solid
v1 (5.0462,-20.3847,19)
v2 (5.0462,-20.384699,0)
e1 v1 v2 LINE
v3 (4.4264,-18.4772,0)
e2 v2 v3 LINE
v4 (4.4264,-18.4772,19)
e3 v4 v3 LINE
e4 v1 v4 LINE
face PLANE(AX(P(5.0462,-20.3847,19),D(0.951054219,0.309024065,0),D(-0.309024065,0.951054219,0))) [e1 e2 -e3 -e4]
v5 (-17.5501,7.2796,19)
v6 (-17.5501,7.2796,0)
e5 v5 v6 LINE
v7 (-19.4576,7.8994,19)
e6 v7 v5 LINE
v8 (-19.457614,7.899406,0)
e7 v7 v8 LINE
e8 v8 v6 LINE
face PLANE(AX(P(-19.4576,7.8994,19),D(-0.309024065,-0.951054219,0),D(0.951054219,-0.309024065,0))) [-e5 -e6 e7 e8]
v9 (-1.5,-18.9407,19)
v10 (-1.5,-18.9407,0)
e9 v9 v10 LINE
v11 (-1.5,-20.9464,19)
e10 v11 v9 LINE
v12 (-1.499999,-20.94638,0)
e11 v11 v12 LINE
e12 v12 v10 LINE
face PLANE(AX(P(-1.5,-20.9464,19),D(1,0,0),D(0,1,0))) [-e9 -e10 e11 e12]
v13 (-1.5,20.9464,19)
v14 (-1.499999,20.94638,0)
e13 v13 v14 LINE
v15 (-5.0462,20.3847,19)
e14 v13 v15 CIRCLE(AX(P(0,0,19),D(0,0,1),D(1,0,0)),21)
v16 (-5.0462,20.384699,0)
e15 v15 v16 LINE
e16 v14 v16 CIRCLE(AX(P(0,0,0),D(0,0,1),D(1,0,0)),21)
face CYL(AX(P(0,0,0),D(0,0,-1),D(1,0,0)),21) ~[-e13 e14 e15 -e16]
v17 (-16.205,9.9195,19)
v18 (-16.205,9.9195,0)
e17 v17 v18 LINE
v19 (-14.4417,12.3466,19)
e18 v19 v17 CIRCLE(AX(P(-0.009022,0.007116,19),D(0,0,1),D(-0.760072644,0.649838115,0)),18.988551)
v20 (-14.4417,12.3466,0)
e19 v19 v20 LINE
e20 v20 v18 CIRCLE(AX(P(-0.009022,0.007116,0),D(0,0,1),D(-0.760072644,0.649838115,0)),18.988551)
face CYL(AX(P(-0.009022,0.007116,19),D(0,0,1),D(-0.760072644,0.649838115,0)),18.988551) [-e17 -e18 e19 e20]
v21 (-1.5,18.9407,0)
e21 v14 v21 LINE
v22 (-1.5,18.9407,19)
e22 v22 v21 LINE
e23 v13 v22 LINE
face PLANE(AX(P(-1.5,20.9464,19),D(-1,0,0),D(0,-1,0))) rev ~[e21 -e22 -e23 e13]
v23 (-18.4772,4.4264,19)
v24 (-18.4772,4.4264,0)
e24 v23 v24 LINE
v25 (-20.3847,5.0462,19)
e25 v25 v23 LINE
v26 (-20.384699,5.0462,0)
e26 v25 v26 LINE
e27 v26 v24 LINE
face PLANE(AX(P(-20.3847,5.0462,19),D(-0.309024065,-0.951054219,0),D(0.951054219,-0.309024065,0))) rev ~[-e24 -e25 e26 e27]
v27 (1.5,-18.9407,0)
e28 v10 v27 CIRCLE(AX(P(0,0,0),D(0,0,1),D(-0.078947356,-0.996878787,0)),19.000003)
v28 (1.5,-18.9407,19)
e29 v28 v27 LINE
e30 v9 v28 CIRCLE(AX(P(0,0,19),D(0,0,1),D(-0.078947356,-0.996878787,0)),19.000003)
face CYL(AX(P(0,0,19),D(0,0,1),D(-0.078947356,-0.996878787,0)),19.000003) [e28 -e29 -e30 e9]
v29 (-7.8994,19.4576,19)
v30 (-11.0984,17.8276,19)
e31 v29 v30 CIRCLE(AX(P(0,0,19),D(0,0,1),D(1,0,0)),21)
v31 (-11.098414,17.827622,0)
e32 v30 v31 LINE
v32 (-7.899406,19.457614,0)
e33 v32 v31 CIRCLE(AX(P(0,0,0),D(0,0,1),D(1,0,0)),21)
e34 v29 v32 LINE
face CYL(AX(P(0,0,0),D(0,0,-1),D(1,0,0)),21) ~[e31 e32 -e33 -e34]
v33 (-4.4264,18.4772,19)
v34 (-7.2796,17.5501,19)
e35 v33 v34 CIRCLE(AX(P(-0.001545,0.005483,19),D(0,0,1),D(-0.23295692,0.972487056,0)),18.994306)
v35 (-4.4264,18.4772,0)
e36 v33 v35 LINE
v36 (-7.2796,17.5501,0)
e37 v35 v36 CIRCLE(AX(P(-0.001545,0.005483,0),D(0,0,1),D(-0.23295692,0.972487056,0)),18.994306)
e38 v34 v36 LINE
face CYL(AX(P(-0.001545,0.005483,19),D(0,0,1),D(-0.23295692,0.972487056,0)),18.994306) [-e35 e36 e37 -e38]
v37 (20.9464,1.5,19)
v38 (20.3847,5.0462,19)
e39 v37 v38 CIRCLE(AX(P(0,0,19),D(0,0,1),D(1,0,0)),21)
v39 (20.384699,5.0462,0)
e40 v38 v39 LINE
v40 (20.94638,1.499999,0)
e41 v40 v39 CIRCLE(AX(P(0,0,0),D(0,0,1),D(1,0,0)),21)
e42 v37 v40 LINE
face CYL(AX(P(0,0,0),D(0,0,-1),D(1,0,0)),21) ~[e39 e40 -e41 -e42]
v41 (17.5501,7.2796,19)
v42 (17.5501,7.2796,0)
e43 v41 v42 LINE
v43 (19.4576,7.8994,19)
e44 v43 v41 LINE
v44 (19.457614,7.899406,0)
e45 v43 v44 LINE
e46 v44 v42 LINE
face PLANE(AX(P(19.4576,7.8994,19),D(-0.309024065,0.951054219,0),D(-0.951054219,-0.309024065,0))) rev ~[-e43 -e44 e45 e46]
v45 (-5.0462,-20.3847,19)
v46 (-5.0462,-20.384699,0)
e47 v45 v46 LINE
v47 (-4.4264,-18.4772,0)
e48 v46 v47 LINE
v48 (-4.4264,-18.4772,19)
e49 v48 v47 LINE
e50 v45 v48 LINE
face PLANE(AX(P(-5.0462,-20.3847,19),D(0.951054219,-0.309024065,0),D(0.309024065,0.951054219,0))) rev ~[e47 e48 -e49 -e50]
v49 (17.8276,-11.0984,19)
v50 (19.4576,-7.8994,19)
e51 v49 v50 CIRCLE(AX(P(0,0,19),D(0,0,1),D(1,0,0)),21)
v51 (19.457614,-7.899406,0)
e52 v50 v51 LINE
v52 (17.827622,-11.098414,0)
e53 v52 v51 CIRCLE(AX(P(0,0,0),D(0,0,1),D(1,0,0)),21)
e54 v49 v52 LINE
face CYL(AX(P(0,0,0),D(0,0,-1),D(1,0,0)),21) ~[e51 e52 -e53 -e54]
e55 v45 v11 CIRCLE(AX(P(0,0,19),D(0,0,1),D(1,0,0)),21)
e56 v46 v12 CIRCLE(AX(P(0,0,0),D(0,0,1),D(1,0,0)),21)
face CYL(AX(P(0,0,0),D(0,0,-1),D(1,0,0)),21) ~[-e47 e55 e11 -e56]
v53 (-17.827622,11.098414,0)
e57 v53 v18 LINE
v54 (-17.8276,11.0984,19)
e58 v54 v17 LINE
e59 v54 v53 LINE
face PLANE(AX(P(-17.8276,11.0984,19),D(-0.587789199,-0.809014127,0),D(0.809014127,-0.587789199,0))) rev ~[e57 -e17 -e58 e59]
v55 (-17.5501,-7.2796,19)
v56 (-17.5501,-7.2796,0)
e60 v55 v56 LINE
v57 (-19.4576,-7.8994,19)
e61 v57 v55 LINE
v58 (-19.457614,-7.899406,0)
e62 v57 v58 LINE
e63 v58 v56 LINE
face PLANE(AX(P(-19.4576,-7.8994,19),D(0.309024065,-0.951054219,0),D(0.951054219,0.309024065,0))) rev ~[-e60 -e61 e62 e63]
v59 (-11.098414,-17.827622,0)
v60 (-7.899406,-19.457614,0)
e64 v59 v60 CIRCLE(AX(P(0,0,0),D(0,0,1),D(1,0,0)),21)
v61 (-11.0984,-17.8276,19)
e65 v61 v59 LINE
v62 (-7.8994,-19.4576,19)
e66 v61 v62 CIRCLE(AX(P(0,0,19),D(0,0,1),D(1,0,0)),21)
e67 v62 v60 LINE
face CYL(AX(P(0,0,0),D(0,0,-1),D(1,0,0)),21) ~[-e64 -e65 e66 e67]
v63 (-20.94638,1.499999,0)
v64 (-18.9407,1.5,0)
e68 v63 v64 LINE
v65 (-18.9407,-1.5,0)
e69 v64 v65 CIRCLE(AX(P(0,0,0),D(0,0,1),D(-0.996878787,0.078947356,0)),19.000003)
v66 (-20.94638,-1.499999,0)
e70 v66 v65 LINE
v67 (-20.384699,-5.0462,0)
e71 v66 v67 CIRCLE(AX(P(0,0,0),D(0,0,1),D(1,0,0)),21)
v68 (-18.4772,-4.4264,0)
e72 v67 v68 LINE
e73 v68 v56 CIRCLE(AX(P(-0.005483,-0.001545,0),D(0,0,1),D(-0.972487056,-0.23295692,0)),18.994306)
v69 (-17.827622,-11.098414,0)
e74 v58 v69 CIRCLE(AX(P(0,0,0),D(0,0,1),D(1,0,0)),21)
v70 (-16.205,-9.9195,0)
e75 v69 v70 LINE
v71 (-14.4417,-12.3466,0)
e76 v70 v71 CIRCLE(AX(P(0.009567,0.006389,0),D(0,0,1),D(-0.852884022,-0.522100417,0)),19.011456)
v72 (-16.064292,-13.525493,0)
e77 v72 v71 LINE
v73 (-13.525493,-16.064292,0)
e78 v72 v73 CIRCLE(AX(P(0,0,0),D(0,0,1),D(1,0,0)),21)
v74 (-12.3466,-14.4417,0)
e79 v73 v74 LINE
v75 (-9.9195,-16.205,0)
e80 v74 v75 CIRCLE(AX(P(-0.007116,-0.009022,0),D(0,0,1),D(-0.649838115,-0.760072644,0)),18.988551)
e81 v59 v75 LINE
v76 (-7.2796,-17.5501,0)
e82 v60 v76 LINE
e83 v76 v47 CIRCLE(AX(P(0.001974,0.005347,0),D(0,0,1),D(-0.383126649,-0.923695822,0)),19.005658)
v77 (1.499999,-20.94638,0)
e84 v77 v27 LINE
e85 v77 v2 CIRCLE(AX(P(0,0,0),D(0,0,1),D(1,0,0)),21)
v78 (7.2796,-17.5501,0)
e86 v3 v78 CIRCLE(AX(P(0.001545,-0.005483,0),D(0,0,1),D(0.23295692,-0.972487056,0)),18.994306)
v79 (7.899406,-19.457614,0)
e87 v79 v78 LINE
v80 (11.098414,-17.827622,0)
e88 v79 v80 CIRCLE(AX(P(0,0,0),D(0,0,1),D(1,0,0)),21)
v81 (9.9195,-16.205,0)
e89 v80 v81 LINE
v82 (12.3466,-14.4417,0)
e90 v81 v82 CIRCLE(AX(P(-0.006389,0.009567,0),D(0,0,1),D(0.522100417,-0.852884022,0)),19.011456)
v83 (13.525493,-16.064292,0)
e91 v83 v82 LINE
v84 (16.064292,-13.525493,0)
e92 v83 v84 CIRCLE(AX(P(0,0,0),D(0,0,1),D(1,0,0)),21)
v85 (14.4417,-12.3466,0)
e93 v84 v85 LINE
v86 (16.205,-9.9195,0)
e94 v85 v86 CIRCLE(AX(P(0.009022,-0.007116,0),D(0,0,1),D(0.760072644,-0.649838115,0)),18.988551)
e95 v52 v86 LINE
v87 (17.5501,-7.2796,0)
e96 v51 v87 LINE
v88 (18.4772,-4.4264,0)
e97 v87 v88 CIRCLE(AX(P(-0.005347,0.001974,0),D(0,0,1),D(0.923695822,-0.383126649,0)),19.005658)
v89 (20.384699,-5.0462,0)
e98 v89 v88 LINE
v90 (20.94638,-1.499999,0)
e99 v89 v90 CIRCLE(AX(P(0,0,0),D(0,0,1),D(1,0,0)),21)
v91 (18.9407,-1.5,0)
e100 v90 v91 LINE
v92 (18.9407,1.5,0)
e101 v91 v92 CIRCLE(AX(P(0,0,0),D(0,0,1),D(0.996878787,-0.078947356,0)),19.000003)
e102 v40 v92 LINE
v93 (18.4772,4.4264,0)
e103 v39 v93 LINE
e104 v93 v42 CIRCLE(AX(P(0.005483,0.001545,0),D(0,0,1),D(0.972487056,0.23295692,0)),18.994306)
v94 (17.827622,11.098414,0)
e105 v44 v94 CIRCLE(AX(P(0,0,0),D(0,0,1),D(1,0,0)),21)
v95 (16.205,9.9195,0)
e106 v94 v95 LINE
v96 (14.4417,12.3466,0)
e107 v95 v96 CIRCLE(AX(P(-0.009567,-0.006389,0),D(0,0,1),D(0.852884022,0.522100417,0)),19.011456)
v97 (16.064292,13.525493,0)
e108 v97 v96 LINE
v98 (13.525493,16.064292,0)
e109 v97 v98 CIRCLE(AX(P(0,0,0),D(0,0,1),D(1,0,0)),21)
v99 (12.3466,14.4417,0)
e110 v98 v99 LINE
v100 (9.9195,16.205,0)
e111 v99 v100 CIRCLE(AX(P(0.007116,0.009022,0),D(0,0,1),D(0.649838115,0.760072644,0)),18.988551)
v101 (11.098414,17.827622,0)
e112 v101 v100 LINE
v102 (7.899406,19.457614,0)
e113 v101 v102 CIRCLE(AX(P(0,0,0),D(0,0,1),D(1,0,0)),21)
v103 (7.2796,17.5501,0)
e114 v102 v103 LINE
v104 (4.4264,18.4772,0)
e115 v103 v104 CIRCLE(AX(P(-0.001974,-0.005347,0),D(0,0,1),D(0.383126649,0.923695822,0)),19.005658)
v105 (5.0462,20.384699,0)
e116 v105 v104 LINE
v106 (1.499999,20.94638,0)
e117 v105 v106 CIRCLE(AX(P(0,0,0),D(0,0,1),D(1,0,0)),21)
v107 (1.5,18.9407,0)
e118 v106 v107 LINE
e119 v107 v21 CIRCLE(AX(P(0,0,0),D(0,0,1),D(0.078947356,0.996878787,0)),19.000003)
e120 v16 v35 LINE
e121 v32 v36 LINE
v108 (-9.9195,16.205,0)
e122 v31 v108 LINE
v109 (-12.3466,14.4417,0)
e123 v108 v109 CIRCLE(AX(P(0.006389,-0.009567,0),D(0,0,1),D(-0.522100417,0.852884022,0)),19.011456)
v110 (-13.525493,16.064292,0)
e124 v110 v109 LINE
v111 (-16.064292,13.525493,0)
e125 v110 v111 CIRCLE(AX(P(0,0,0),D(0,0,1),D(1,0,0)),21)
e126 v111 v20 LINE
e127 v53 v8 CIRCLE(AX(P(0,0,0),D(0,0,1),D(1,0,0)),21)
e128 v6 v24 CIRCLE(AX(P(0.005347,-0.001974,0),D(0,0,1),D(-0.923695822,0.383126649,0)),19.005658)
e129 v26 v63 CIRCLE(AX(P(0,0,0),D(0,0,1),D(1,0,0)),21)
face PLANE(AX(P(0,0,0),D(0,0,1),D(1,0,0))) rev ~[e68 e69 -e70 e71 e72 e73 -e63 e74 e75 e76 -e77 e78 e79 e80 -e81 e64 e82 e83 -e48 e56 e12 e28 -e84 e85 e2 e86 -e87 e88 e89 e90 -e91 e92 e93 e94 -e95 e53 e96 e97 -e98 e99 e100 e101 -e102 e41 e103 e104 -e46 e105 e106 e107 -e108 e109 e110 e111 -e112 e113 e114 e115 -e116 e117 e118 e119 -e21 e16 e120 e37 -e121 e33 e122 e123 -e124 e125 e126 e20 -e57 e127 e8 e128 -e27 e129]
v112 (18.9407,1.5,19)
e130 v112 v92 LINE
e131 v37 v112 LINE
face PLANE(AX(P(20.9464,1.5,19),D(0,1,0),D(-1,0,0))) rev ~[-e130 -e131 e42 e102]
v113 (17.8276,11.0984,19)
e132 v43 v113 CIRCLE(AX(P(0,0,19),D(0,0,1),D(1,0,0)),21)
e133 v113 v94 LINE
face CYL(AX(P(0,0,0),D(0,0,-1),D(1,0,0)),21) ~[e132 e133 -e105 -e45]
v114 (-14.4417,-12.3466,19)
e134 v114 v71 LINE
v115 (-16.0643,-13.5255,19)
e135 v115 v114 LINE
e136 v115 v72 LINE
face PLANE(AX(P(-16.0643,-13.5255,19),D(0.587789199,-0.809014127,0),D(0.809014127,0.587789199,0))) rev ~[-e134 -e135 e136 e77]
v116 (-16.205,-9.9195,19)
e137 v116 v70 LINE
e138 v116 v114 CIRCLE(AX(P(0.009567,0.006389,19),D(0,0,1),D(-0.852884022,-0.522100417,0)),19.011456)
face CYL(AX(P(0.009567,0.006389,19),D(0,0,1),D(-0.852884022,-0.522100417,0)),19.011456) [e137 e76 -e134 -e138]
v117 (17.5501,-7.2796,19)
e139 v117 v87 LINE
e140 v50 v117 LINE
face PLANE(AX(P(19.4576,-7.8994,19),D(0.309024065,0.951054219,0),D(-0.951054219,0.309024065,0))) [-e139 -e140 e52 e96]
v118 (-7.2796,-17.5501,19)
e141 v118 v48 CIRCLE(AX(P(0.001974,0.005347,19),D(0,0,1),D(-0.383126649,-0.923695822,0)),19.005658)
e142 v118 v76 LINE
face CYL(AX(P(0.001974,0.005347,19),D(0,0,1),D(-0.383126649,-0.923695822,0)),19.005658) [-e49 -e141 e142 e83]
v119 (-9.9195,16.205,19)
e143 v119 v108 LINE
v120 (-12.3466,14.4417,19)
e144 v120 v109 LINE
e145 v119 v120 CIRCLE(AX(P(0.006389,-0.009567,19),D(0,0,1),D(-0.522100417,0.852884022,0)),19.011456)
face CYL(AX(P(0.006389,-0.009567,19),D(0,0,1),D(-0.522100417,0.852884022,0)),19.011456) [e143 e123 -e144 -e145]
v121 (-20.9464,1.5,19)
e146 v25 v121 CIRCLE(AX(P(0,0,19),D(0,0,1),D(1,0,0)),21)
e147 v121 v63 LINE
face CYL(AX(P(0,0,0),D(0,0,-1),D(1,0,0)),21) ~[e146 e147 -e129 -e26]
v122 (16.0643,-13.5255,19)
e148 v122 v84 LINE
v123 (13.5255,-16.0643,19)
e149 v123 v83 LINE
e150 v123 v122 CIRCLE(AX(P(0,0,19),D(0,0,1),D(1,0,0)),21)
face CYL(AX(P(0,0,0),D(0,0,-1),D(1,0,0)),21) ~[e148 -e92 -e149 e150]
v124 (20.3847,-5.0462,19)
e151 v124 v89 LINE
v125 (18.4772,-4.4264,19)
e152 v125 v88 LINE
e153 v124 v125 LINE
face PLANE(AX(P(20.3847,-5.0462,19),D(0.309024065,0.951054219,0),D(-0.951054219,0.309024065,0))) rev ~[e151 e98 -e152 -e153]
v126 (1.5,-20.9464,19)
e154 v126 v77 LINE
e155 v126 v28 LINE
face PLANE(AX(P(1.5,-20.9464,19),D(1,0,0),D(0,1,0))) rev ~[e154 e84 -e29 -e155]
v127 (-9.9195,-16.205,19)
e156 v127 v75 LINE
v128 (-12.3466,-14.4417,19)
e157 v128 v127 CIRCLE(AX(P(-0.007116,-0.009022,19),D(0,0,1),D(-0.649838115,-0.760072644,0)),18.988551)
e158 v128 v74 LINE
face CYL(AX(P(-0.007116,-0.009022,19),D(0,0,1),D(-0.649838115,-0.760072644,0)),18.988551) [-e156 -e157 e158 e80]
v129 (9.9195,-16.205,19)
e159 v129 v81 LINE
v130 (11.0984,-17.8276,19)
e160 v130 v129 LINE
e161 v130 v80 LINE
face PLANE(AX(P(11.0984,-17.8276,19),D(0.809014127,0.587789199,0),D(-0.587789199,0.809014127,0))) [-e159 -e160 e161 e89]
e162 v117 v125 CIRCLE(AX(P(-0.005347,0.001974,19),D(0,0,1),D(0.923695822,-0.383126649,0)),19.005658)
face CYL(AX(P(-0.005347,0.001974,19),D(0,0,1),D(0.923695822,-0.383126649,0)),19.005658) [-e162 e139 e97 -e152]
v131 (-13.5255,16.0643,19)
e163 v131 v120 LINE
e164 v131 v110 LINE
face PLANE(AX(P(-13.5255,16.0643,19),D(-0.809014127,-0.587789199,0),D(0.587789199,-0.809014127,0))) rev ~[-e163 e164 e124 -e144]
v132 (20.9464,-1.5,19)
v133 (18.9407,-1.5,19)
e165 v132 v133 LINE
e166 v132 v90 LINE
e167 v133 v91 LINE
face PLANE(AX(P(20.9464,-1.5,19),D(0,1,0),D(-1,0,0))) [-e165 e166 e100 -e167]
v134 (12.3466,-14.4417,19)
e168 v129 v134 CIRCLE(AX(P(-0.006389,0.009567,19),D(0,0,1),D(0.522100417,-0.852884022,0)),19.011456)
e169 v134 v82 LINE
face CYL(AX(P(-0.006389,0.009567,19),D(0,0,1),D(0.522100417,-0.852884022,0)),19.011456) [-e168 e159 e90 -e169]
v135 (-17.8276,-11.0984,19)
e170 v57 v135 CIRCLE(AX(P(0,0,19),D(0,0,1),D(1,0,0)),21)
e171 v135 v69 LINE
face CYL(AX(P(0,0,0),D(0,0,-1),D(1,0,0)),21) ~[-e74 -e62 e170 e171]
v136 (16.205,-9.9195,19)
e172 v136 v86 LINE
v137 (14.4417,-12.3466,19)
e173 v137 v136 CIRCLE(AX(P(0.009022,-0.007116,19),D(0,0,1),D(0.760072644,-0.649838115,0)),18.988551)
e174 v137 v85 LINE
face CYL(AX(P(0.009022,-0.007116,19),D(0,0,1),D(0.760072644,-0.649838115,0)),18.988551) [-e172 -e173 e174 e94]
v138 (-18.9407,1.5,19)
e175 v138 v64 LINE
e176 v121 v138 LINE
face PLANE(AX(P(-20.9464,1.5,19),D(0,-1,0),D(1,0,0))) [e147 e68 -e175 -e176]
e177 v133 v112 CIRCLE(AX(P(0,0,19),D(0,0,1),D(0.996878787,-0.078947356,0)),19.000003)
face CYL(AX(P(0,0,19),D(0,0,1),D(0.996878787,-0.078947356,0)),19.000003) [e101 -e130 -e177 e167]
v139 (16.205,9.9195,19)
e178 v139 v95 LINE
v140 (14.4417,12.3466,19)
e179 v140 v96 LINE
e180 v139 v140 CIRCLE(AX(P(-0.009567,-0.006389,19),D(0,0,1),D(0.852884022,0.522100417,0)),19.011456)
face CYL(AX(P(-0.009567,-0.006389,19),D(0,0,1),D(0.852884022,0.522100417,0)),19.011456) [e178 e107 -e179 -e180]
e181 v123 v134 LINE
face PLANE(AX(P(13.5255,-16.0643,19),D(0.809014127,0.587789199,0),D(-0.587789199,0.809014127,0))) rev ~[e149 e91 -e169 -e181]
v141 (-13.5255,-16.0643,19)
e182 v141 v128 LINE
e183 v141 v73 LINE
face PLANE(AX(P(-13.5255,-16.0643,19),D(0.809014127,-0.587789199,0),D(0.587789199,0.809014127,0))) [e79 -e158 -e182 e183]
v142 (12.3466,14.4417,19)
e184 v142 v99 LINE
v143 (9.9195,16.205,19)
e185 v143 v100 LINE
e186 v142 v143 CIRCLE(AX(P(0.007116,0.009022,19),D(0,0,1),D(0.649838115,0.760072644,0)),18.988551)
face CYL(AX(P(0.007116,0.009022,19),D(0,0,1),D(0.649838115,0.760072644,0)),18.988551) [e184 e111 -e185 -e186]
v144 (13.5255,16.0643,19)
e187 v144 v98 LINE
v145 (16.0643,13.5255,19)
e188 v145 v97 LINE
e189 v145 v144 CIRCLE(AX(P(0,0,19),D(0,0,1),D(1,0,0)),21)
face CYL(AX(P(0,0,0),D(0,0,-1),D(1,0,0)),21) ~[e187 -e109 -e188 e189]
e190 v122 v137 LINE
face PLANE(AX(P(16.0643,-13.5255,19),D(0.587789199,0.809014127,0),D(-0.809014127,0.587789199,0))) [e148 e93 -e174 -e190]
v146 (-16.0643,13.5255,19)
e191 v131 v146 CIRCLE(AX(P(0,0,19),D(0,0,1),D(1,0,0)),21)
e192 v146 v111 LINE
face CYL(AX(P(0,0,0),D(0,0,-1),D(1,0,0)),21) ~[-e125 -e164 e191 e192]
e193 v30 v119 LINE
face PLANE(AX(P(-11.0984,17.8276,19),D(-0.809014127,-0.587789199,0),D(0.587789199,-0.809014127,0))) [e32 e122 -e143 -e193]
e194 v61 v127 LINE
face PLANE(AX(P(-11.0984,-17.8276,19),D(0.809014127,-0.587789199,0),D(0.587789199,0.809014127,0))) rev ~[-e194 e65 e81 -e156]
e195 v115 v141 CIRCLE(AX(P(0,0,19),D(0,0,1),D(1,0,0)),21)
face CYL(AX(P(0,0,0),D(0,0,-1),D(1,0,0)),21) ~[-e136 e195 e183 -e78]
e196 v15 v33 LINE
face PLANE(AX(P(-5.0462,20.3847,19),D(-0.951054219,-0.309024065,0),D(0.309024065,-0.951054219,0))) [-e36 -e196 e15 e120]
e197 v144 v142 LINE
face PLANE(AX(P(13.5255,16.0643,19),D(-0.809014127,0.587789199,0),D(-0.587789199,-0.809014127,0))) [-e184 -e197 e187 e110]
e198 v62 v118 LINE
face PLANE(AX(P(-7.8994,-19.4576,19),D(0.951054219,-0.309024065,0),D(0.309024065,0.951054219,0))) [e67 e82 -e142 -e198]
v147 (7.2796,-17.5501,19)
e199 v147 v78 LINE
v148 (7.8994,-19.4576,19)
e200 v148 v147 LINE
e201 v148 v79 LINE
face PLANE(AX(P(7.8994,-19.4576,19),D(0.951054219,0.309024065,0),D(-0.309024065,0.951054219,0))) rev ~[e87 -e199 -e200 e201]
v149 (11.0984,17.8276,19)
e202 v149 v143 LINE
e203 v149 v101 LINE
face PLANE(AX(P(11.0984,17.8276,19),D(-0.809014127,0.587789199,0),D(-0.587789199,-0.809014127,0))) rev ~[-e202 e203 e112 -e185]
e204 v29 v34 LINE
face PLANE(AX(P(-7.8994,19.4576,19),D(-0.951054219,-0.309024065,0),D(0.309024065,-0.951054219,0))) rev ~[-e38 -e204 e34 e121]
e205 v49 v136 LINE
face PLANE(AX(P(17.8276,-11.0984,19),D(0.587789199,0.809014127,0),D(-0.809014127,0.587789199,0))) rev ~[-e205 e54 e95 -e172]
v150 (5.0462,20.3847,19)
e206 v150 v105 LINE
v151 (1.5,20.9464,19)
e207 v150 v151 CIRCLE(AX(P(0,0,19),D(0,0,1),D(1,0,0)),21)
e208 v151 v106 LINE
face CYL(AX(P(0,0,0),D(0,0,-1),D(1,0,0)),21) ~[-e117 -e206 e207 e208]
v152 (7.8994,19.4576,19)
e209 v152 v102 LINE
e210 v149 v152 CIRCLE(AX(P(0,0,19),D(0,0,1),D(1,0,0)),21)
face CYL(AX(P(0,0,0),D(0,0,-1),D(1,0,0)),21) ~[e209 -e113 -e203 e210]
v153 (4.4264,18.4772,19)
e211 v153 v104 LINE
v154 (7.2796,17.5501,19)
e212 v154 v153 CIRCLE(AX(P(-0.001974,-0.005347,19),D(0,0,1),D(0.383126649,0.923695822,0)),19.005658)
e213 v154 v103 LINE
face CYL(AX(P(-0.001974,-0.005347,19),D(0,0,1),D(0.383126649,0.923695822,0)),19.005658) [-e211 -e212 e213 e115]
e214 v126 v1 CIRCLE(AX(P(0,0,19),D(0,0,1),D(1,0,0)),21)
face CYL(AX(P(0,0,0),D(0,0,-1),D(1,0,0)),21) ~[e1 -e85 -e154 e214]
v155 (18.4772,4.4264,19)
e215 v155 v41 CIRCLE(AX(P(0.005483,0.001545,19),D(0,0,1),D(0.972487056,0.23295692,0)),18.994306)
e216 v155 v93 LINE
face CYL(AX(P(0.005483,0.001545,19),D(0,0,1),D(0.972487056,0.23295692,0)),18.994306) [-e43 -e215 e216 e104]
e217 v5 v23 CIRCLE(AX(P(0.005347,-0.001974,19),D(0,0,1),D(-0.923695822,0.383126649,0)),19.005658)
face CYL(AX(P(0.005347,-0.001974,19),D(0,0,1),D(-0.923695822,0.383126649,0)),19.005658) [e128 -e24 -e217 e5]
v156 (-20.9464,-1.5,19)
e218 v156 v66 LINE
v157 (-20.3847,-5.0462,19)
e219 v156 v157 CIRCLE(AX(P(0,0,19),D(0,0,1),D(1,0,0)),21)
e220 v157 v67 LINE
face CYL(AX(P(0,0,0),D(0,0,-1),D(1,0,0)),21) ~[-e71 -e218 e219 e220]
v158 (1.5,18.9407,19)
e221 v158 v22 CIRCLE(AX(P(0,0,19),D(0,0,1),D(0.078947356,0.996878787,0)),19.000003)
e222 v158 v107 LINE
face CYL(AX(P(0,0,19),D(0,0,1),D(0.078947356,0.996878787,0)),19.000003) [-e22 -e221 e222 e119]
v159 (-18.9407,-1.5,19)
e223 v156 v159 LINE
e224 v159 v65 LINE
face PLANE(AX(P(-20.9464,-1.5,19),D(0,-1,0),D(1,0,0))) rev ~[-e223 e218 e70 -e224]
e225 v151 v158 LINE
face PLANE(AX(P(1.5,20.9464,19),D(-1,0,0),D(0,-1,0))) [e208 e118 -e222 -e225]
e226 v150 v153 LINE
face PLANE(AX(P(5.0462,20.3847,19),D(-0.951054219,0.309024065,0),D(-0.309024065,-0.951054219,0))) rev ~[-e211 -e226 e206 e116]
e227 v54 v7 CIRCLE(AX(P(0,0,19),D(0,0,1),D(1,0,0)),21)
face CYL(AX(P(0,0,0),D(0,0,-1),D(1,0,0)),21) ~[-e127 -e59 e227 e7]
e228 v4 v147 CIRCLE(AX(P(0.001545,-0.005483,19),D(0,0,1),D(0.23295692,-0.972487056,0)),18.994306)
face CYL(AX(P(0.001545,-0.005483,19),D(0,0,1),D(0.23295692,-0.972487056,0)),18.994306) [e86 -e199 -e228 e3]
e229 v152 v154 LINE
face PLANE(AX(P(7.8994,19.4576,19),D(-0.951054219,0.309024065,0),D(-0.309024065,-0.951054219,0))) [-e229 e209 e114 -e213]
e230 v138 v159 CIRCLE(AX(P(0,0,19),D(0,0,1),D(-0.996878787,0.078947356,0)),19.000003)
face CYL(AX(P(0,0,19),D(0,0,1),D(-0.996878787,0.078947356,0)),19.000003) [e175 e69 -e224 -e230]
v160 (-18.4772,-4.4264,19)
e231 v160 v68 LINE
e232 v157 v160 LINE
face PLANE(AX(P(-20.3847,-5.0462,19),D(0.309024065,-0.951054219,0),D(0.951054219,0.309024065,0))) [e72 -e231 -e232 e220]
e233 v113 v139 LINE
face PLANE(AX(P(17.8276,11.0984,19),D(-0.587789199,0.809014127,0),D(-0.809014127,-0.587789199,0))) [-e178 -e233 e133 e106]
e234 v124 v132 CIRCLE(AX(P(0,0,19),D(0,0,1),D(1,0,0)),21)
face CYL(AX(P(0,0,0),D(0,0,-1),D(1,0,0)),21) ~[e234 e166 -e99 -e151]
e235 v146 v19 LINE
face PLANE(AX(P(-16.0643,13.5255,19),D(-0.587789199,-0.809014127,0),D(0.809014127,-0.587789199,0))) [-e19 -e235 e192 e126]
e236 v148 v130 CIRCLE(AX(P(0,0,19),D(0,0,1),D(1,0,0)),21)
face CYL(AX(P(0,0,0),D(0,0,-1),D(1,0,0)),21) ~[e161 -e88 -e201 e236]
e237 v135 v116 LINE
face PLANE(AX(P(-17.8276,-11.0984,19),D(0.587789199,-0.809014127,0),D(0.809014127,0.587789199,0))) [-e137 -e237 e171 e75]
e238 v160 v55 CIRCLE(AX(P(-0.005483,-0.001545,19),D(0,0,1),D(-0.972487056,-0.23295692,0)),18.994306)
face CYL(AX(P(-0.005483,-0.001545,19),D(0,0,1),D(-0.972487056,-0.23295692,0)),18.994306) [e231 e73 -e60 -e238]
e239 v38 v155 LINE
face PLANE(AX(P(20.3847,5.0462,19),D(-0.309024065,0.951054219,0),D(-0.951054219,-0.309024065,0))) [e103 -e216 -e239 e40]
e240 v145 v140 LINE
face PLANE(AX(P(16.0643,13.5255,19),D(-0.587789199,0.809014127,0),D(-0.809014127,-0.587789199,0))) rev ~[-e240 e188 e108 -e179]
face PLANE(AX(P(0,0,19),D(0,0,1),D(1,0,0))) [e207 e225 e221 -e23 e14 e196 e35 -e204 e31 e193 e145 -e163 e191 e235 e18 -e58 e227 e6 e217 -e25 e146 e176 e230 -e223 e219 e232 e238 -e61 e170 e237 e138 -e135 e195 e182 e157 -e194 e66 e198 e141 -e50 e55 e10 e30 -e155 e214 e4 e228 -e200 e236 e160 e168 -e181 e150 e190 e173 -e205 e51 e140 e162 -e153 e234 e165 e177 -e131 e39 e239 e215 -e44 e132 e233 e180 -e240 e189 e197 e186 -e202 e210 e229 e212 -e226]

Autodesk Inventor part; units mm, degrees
ref_plane "YZ Plane" through (0, 0, 0) normal (1, 0, 0) x (0, 1, 0)
ref_plane "XZ Plane" through (0, 0, 0) normal (0, 1, 0) x (-1, 0, 0)
ref_plane "XY Plane" through (0, 0, 0) normal (0, 0, 1) x (1, 0, 0)
sketch "Boceto1" plane through (0, 0, 0) normal (0, 0, 1) x (1, 0, 0)
  circle A0 centre (0, 0) radius 21
  dimension "d0" = 42
extrude "Extrusión1" add sketch "Boceto1" along normal blind 19
sketch "Boceto2" plane through (0, 0, 19) normal (0, 0, 1) x (1, 0, 0)
  circle A0 centre (0, 0) radius 21 construction
  circle A1 centre (0, 0) radius 21 projected
  circle A2 centre (0, 0) radius 19 construction
  arc A3 (1.5, 20.9464) -> (-1.5, 20.9464) centre (0, 0) ccw
  line L0 (1.5, 20.9464) -> (1.5, 18.9407)
  line L1 (-1.5, 20.9464) -> (-1.5, 18.9407)
  arc A4 (1.5, 18.9407) -> (-1.5, 18.9407) centre (0, 0) ccw
  arc A5 (7.8994, 19.4576) -> (5.0462, 20.3847) centre (0, 0) ccw
  line L2 (7.8994, 19.4576) -> (7.2796, 17.5501)
  line L3 (5.0462, 20.3847) -> (4.4264, 18.4772)
  arc A6 (7.2796, 17.5501) -> (4.4264, 18.4772) centre (0, 0) ccw
  arc A7 (13.5255, 16.0643) -> (11.0984, 17.8276) centre (0, 0) ccw
  line L4 (13.5255, 16.0643) -> (12.3466, 14.4417)
  line L5 (11.0984, 17.8276) -> (9.9195, 16.205)
  arc A8 (12.3466, 14.4417) -> (9.9195, 16.205) centre (0, 0) ccw
  arc A9 (17.8276, 11.0984) -> (16.0643, 13.5255) centre (0, 0) ccw
  line L6 (17.8276, 11.0984) -> (16.205, 9.9195)
  line L7 (16.0643, 13.5255) -> (14.4417, 12.3466)
  arc A10 (16.205, 9.9195) -> (14.4417, 12.3466) centre (0, 0) ccw
  arc A11 (20.3847, 5.0462) -> (19.4576, 7.8994) centre (0, 0) ccw
  line L8 (20.3847, 5.0462) -> (18.4772, 4.4264)
  line L9 (19.4576, 7.8994) -> (17.5501, 7.2796)
  arc A12 (18.4772, 4.4264) -> (17.5501, 7.2796) centre (0, 0) ccw
  arc A13 (20.9464, -1.5) -> (20.9464, 1.5) centre (0, 0) ccw
  line L10 (20.9464, -1.5) -> (18.9407, -1.5)
  line L11 (20.9464, 1.5) -> (18.9407, 1.5)
  arc A14 (18.9407, -1.5) -> (18.9407, 1.5) centre (0, 0) ccw
  arc A15 (19.4576, -7.8994) -> (20.3847, -5.0462) centre (0, 0) ccw
  line L12 (19.4576, -7.8994) -> (17.5501, -7.2796)
  line L13 (20.3847, -5.0462) -> (18.4772, -4.4264)
  arc A16 (17.5501, -7.2796) -> (18.4772, -4.4264) centre (0, 0) ccw
  arc A17 (16.0643, -13.5255) -> (17.8276, -11.0984) centre (0, 0) ccw
  line L14 (16.0643, -13.5255) -> (14.4417, -12.3466)
  line L15 (17.8276, -11.0984) -> (16.205, -9.9195)
  arc A18 (14.4417, -12.3466) -> (16.205, -9.9195) centre (0, 0) ccw
  arc A19 (11.0984, -17.8276) -> (13.5255, -16.0643) centre (0, 0) ccw
  line L16 (11.0984, -17.8276) -> (9.9195, -16.205)
  line L17 (13.5255, -16.0643) -> (12.3466, -14.4417)
  arc A20 (9.9195, -16.205) -> (12.3466, -14.4417) centre (0, 0) ccw
  arc A21 (5.0462, -20.3847) -> (7.8994, -19.4576) centre (0, 0) ccw
  line L18 (5.0462, -20.3847) -> (4.4264, -18.4772)
  line L19 (7.8994, -19.4576) -> (7.2796, -17.5501)
  arc A22 (4.4264, -18.4772) -> (7.2796, -17.5501) centre (0, 0) ccw
  arc A23 (-1.5, -20.9464) -> (1.5, -20.9464) centre (0, 0) ccw
  line L20 (-1.5, -20.9464) -> (-1.5, -18.9407)
  line L21 (1.5, -20.9464) -> (1.5, -18.9407)
  arc A24 (-1.5, -18.9407) -> (1.5, -18.9407) centre (0, 0) ccw
  arc A25 (-7.8994, -19.4576) -> (-5.0462, -20.3847) centre (0, 0) ccw
  line L22 (-7.8994, -19.4576) -> (-7.2796, -17.5501)
  line L23 (-5.0462, -20.3847) -> (-4.4264, -18.4772)
  arc A26 (-7.2796, -17.5501) -> (-4.4264, -18.4772) centre (0, 0) ccw
  arc A27 (-13.5255, -16.0643) -> (-11.0984, -17.8276) centre (0, 0) ccw
  line L24 (-13.5255, -16.0643) -> (-12.3466, -14.4417)
  line L25 (-11.0984, -17.8276) -> (-9.9195, -16.205)
  arc A28 (-12.3466, -14.4417) -> (-9.9195, -16.205) centre (0, 0) ccw
  arc A29 (-17.8276, -11.0984) -> (-16.0643, -13.5255) centre (0, 0) ccw
  line L26 (-17.8276, -11.0984) -> (-16.205, -9.9195)
  line L27 (-16.0643, -13.5255) -> (-14.4417, -12.3466)
  arc A30 (-16.205, -9.9195) -> (-14.4417, -12.3466) centre (0, 0) ccw
  arc A31 (-20.3847, -5.0462) -> (-19.4576, -7.8994) centre (0, 0) ccw
  line L28 (-20.3847, -5.0462) -> (-18.4772, -4.4264)
  line L29 (-19.4576, -7.8994) -> (-17.5501, -7.2796)
  arc A32 (-18.4772, -4.4264) -> (-17.5501, -7.2796) centre (0, 0) ccw
  arc A33 (-20.9464, 1.5) -> (-20.9464, -1.5) centre (0, 0) ccw
  line L30 (-20.9464, 1.5) -> (-18.9407, 1.5)
  line L31 (-20.9464, -1.5) -> (-18.9407, -1.5)
  arc A34 (-18.9407, 1.5) -> (-18.9407, -1.5) centre (0, 0) ccw
  arc A35 (-19.4576, 7.8994) -> (-20.3847, 5.0462) centre (0, 0) ccw
  line L32 (-19.4576, 7.8994) -> (-17.5501, 7.2796)
  line L33 (-20.3847, 5.0462) -> (-18.4772, 4.4264)
  arc A36 (-17.5501, 7.2796) -> (-18.4772, 4.4264) centre (0, 0) ccw
  arc A37 (-16.0643, 13.5255) -> (-17.8276, 11.0984) centre (0, 0) ccw
  line L34 (-16.0643, 13.5255) -> (-14.4417, 12.3466)
  line L35 (-17.8276, 11.0984) -> (-16.205, 9.9195)
  arc A38 (-14.4417, 12.3466) -> (-16.205, 9.9195) centre (0, 0) ccw
  arc A39 (-11.0984, 17.8276) -> (-13.5255, 16.0643) centre (0, 0) ccw
  line L36 (-11.0984, 17.8276) -> (-9.9195, 16.205)
  line L37 (-13.5255, 16.0643) -> (-12.3466, 14.4417)
  arc A40 (-9.9195, 16.205) -> (-12.3466, 14.4417) centre (0, 0) ccw
  arc A41 (-5.0462, 20.3847) -> (-7.8994, 19.4576) centre (0, 0) ccw
  line L38 (-5.0462, 20.3847) -> (-4.4264, 18.4772)
  line L39 (-7.8994, 19.4576) -> (-7.2796, 17.5501)
  arc A42 (-4.4264, 18.4772) -> (-7.2796, 17.5501) centre (0, 0) ccw
  point P0 (0, 21)
  point P1 (6.4894, 19.9722)
  point P2 (12.3435, 16.9894)
  point P3 (16.9894, 12.3435)
  point P4 (19.9722, 6.4894)
  point P5 (21, 0)
  point P6 (19.9722, -6.4894)
  point P7 (16.9894, -12.3435)
  point P8 (12.3435, -16.9894)
  point P9 (6.4894, -19.9722)
  point P10 (0, -21)
  point P11 (-6.4894, -19.9722)
  point P12 (-12.3435, -16.9894)
  point P13 (-16.9894, -12.3435)
  point P14 (-19.9722, -6.4894)
  point P15 (-21, 0)
  point P16 (-19.9722, 6.4894)
  point P17 (-16.9894, 12.3435)
  point P18 (-12.3435, 16.9894)
  point P19 (-6.4894, 19.9722)
  dimension "d3" = 38
  dimension "d4" = 3
  dimension "d7" = 360
extrude "Extrusión2" cut sketch "Boceto2" against normal through all contours A1 L10 A14 L11 | L8 A12 L9 A1 | A1 L12 A16 L13 | L6 A10 L7 A1 | A1 L14 A18 L15 | L4 A8 L5 A1 | A1 L16 A20 L17 | L2 A6 L3 A1 | A1 L18 A22 L19 | L0 A4 L1 A1 | A1 L20 A24 L21 | L38 A42 L39 A1 | A1 L22 A26 L23 | L36 A40 L37 A1 | A1 L24 A28 L25 | L34 A38 L35 A1 | A1 L26 A30 L27 | L32 A36 L33 A1 | A1 L28 A32 L29 | L30 A34 L31 A1
properties part number "Llanta" material "Goma"
